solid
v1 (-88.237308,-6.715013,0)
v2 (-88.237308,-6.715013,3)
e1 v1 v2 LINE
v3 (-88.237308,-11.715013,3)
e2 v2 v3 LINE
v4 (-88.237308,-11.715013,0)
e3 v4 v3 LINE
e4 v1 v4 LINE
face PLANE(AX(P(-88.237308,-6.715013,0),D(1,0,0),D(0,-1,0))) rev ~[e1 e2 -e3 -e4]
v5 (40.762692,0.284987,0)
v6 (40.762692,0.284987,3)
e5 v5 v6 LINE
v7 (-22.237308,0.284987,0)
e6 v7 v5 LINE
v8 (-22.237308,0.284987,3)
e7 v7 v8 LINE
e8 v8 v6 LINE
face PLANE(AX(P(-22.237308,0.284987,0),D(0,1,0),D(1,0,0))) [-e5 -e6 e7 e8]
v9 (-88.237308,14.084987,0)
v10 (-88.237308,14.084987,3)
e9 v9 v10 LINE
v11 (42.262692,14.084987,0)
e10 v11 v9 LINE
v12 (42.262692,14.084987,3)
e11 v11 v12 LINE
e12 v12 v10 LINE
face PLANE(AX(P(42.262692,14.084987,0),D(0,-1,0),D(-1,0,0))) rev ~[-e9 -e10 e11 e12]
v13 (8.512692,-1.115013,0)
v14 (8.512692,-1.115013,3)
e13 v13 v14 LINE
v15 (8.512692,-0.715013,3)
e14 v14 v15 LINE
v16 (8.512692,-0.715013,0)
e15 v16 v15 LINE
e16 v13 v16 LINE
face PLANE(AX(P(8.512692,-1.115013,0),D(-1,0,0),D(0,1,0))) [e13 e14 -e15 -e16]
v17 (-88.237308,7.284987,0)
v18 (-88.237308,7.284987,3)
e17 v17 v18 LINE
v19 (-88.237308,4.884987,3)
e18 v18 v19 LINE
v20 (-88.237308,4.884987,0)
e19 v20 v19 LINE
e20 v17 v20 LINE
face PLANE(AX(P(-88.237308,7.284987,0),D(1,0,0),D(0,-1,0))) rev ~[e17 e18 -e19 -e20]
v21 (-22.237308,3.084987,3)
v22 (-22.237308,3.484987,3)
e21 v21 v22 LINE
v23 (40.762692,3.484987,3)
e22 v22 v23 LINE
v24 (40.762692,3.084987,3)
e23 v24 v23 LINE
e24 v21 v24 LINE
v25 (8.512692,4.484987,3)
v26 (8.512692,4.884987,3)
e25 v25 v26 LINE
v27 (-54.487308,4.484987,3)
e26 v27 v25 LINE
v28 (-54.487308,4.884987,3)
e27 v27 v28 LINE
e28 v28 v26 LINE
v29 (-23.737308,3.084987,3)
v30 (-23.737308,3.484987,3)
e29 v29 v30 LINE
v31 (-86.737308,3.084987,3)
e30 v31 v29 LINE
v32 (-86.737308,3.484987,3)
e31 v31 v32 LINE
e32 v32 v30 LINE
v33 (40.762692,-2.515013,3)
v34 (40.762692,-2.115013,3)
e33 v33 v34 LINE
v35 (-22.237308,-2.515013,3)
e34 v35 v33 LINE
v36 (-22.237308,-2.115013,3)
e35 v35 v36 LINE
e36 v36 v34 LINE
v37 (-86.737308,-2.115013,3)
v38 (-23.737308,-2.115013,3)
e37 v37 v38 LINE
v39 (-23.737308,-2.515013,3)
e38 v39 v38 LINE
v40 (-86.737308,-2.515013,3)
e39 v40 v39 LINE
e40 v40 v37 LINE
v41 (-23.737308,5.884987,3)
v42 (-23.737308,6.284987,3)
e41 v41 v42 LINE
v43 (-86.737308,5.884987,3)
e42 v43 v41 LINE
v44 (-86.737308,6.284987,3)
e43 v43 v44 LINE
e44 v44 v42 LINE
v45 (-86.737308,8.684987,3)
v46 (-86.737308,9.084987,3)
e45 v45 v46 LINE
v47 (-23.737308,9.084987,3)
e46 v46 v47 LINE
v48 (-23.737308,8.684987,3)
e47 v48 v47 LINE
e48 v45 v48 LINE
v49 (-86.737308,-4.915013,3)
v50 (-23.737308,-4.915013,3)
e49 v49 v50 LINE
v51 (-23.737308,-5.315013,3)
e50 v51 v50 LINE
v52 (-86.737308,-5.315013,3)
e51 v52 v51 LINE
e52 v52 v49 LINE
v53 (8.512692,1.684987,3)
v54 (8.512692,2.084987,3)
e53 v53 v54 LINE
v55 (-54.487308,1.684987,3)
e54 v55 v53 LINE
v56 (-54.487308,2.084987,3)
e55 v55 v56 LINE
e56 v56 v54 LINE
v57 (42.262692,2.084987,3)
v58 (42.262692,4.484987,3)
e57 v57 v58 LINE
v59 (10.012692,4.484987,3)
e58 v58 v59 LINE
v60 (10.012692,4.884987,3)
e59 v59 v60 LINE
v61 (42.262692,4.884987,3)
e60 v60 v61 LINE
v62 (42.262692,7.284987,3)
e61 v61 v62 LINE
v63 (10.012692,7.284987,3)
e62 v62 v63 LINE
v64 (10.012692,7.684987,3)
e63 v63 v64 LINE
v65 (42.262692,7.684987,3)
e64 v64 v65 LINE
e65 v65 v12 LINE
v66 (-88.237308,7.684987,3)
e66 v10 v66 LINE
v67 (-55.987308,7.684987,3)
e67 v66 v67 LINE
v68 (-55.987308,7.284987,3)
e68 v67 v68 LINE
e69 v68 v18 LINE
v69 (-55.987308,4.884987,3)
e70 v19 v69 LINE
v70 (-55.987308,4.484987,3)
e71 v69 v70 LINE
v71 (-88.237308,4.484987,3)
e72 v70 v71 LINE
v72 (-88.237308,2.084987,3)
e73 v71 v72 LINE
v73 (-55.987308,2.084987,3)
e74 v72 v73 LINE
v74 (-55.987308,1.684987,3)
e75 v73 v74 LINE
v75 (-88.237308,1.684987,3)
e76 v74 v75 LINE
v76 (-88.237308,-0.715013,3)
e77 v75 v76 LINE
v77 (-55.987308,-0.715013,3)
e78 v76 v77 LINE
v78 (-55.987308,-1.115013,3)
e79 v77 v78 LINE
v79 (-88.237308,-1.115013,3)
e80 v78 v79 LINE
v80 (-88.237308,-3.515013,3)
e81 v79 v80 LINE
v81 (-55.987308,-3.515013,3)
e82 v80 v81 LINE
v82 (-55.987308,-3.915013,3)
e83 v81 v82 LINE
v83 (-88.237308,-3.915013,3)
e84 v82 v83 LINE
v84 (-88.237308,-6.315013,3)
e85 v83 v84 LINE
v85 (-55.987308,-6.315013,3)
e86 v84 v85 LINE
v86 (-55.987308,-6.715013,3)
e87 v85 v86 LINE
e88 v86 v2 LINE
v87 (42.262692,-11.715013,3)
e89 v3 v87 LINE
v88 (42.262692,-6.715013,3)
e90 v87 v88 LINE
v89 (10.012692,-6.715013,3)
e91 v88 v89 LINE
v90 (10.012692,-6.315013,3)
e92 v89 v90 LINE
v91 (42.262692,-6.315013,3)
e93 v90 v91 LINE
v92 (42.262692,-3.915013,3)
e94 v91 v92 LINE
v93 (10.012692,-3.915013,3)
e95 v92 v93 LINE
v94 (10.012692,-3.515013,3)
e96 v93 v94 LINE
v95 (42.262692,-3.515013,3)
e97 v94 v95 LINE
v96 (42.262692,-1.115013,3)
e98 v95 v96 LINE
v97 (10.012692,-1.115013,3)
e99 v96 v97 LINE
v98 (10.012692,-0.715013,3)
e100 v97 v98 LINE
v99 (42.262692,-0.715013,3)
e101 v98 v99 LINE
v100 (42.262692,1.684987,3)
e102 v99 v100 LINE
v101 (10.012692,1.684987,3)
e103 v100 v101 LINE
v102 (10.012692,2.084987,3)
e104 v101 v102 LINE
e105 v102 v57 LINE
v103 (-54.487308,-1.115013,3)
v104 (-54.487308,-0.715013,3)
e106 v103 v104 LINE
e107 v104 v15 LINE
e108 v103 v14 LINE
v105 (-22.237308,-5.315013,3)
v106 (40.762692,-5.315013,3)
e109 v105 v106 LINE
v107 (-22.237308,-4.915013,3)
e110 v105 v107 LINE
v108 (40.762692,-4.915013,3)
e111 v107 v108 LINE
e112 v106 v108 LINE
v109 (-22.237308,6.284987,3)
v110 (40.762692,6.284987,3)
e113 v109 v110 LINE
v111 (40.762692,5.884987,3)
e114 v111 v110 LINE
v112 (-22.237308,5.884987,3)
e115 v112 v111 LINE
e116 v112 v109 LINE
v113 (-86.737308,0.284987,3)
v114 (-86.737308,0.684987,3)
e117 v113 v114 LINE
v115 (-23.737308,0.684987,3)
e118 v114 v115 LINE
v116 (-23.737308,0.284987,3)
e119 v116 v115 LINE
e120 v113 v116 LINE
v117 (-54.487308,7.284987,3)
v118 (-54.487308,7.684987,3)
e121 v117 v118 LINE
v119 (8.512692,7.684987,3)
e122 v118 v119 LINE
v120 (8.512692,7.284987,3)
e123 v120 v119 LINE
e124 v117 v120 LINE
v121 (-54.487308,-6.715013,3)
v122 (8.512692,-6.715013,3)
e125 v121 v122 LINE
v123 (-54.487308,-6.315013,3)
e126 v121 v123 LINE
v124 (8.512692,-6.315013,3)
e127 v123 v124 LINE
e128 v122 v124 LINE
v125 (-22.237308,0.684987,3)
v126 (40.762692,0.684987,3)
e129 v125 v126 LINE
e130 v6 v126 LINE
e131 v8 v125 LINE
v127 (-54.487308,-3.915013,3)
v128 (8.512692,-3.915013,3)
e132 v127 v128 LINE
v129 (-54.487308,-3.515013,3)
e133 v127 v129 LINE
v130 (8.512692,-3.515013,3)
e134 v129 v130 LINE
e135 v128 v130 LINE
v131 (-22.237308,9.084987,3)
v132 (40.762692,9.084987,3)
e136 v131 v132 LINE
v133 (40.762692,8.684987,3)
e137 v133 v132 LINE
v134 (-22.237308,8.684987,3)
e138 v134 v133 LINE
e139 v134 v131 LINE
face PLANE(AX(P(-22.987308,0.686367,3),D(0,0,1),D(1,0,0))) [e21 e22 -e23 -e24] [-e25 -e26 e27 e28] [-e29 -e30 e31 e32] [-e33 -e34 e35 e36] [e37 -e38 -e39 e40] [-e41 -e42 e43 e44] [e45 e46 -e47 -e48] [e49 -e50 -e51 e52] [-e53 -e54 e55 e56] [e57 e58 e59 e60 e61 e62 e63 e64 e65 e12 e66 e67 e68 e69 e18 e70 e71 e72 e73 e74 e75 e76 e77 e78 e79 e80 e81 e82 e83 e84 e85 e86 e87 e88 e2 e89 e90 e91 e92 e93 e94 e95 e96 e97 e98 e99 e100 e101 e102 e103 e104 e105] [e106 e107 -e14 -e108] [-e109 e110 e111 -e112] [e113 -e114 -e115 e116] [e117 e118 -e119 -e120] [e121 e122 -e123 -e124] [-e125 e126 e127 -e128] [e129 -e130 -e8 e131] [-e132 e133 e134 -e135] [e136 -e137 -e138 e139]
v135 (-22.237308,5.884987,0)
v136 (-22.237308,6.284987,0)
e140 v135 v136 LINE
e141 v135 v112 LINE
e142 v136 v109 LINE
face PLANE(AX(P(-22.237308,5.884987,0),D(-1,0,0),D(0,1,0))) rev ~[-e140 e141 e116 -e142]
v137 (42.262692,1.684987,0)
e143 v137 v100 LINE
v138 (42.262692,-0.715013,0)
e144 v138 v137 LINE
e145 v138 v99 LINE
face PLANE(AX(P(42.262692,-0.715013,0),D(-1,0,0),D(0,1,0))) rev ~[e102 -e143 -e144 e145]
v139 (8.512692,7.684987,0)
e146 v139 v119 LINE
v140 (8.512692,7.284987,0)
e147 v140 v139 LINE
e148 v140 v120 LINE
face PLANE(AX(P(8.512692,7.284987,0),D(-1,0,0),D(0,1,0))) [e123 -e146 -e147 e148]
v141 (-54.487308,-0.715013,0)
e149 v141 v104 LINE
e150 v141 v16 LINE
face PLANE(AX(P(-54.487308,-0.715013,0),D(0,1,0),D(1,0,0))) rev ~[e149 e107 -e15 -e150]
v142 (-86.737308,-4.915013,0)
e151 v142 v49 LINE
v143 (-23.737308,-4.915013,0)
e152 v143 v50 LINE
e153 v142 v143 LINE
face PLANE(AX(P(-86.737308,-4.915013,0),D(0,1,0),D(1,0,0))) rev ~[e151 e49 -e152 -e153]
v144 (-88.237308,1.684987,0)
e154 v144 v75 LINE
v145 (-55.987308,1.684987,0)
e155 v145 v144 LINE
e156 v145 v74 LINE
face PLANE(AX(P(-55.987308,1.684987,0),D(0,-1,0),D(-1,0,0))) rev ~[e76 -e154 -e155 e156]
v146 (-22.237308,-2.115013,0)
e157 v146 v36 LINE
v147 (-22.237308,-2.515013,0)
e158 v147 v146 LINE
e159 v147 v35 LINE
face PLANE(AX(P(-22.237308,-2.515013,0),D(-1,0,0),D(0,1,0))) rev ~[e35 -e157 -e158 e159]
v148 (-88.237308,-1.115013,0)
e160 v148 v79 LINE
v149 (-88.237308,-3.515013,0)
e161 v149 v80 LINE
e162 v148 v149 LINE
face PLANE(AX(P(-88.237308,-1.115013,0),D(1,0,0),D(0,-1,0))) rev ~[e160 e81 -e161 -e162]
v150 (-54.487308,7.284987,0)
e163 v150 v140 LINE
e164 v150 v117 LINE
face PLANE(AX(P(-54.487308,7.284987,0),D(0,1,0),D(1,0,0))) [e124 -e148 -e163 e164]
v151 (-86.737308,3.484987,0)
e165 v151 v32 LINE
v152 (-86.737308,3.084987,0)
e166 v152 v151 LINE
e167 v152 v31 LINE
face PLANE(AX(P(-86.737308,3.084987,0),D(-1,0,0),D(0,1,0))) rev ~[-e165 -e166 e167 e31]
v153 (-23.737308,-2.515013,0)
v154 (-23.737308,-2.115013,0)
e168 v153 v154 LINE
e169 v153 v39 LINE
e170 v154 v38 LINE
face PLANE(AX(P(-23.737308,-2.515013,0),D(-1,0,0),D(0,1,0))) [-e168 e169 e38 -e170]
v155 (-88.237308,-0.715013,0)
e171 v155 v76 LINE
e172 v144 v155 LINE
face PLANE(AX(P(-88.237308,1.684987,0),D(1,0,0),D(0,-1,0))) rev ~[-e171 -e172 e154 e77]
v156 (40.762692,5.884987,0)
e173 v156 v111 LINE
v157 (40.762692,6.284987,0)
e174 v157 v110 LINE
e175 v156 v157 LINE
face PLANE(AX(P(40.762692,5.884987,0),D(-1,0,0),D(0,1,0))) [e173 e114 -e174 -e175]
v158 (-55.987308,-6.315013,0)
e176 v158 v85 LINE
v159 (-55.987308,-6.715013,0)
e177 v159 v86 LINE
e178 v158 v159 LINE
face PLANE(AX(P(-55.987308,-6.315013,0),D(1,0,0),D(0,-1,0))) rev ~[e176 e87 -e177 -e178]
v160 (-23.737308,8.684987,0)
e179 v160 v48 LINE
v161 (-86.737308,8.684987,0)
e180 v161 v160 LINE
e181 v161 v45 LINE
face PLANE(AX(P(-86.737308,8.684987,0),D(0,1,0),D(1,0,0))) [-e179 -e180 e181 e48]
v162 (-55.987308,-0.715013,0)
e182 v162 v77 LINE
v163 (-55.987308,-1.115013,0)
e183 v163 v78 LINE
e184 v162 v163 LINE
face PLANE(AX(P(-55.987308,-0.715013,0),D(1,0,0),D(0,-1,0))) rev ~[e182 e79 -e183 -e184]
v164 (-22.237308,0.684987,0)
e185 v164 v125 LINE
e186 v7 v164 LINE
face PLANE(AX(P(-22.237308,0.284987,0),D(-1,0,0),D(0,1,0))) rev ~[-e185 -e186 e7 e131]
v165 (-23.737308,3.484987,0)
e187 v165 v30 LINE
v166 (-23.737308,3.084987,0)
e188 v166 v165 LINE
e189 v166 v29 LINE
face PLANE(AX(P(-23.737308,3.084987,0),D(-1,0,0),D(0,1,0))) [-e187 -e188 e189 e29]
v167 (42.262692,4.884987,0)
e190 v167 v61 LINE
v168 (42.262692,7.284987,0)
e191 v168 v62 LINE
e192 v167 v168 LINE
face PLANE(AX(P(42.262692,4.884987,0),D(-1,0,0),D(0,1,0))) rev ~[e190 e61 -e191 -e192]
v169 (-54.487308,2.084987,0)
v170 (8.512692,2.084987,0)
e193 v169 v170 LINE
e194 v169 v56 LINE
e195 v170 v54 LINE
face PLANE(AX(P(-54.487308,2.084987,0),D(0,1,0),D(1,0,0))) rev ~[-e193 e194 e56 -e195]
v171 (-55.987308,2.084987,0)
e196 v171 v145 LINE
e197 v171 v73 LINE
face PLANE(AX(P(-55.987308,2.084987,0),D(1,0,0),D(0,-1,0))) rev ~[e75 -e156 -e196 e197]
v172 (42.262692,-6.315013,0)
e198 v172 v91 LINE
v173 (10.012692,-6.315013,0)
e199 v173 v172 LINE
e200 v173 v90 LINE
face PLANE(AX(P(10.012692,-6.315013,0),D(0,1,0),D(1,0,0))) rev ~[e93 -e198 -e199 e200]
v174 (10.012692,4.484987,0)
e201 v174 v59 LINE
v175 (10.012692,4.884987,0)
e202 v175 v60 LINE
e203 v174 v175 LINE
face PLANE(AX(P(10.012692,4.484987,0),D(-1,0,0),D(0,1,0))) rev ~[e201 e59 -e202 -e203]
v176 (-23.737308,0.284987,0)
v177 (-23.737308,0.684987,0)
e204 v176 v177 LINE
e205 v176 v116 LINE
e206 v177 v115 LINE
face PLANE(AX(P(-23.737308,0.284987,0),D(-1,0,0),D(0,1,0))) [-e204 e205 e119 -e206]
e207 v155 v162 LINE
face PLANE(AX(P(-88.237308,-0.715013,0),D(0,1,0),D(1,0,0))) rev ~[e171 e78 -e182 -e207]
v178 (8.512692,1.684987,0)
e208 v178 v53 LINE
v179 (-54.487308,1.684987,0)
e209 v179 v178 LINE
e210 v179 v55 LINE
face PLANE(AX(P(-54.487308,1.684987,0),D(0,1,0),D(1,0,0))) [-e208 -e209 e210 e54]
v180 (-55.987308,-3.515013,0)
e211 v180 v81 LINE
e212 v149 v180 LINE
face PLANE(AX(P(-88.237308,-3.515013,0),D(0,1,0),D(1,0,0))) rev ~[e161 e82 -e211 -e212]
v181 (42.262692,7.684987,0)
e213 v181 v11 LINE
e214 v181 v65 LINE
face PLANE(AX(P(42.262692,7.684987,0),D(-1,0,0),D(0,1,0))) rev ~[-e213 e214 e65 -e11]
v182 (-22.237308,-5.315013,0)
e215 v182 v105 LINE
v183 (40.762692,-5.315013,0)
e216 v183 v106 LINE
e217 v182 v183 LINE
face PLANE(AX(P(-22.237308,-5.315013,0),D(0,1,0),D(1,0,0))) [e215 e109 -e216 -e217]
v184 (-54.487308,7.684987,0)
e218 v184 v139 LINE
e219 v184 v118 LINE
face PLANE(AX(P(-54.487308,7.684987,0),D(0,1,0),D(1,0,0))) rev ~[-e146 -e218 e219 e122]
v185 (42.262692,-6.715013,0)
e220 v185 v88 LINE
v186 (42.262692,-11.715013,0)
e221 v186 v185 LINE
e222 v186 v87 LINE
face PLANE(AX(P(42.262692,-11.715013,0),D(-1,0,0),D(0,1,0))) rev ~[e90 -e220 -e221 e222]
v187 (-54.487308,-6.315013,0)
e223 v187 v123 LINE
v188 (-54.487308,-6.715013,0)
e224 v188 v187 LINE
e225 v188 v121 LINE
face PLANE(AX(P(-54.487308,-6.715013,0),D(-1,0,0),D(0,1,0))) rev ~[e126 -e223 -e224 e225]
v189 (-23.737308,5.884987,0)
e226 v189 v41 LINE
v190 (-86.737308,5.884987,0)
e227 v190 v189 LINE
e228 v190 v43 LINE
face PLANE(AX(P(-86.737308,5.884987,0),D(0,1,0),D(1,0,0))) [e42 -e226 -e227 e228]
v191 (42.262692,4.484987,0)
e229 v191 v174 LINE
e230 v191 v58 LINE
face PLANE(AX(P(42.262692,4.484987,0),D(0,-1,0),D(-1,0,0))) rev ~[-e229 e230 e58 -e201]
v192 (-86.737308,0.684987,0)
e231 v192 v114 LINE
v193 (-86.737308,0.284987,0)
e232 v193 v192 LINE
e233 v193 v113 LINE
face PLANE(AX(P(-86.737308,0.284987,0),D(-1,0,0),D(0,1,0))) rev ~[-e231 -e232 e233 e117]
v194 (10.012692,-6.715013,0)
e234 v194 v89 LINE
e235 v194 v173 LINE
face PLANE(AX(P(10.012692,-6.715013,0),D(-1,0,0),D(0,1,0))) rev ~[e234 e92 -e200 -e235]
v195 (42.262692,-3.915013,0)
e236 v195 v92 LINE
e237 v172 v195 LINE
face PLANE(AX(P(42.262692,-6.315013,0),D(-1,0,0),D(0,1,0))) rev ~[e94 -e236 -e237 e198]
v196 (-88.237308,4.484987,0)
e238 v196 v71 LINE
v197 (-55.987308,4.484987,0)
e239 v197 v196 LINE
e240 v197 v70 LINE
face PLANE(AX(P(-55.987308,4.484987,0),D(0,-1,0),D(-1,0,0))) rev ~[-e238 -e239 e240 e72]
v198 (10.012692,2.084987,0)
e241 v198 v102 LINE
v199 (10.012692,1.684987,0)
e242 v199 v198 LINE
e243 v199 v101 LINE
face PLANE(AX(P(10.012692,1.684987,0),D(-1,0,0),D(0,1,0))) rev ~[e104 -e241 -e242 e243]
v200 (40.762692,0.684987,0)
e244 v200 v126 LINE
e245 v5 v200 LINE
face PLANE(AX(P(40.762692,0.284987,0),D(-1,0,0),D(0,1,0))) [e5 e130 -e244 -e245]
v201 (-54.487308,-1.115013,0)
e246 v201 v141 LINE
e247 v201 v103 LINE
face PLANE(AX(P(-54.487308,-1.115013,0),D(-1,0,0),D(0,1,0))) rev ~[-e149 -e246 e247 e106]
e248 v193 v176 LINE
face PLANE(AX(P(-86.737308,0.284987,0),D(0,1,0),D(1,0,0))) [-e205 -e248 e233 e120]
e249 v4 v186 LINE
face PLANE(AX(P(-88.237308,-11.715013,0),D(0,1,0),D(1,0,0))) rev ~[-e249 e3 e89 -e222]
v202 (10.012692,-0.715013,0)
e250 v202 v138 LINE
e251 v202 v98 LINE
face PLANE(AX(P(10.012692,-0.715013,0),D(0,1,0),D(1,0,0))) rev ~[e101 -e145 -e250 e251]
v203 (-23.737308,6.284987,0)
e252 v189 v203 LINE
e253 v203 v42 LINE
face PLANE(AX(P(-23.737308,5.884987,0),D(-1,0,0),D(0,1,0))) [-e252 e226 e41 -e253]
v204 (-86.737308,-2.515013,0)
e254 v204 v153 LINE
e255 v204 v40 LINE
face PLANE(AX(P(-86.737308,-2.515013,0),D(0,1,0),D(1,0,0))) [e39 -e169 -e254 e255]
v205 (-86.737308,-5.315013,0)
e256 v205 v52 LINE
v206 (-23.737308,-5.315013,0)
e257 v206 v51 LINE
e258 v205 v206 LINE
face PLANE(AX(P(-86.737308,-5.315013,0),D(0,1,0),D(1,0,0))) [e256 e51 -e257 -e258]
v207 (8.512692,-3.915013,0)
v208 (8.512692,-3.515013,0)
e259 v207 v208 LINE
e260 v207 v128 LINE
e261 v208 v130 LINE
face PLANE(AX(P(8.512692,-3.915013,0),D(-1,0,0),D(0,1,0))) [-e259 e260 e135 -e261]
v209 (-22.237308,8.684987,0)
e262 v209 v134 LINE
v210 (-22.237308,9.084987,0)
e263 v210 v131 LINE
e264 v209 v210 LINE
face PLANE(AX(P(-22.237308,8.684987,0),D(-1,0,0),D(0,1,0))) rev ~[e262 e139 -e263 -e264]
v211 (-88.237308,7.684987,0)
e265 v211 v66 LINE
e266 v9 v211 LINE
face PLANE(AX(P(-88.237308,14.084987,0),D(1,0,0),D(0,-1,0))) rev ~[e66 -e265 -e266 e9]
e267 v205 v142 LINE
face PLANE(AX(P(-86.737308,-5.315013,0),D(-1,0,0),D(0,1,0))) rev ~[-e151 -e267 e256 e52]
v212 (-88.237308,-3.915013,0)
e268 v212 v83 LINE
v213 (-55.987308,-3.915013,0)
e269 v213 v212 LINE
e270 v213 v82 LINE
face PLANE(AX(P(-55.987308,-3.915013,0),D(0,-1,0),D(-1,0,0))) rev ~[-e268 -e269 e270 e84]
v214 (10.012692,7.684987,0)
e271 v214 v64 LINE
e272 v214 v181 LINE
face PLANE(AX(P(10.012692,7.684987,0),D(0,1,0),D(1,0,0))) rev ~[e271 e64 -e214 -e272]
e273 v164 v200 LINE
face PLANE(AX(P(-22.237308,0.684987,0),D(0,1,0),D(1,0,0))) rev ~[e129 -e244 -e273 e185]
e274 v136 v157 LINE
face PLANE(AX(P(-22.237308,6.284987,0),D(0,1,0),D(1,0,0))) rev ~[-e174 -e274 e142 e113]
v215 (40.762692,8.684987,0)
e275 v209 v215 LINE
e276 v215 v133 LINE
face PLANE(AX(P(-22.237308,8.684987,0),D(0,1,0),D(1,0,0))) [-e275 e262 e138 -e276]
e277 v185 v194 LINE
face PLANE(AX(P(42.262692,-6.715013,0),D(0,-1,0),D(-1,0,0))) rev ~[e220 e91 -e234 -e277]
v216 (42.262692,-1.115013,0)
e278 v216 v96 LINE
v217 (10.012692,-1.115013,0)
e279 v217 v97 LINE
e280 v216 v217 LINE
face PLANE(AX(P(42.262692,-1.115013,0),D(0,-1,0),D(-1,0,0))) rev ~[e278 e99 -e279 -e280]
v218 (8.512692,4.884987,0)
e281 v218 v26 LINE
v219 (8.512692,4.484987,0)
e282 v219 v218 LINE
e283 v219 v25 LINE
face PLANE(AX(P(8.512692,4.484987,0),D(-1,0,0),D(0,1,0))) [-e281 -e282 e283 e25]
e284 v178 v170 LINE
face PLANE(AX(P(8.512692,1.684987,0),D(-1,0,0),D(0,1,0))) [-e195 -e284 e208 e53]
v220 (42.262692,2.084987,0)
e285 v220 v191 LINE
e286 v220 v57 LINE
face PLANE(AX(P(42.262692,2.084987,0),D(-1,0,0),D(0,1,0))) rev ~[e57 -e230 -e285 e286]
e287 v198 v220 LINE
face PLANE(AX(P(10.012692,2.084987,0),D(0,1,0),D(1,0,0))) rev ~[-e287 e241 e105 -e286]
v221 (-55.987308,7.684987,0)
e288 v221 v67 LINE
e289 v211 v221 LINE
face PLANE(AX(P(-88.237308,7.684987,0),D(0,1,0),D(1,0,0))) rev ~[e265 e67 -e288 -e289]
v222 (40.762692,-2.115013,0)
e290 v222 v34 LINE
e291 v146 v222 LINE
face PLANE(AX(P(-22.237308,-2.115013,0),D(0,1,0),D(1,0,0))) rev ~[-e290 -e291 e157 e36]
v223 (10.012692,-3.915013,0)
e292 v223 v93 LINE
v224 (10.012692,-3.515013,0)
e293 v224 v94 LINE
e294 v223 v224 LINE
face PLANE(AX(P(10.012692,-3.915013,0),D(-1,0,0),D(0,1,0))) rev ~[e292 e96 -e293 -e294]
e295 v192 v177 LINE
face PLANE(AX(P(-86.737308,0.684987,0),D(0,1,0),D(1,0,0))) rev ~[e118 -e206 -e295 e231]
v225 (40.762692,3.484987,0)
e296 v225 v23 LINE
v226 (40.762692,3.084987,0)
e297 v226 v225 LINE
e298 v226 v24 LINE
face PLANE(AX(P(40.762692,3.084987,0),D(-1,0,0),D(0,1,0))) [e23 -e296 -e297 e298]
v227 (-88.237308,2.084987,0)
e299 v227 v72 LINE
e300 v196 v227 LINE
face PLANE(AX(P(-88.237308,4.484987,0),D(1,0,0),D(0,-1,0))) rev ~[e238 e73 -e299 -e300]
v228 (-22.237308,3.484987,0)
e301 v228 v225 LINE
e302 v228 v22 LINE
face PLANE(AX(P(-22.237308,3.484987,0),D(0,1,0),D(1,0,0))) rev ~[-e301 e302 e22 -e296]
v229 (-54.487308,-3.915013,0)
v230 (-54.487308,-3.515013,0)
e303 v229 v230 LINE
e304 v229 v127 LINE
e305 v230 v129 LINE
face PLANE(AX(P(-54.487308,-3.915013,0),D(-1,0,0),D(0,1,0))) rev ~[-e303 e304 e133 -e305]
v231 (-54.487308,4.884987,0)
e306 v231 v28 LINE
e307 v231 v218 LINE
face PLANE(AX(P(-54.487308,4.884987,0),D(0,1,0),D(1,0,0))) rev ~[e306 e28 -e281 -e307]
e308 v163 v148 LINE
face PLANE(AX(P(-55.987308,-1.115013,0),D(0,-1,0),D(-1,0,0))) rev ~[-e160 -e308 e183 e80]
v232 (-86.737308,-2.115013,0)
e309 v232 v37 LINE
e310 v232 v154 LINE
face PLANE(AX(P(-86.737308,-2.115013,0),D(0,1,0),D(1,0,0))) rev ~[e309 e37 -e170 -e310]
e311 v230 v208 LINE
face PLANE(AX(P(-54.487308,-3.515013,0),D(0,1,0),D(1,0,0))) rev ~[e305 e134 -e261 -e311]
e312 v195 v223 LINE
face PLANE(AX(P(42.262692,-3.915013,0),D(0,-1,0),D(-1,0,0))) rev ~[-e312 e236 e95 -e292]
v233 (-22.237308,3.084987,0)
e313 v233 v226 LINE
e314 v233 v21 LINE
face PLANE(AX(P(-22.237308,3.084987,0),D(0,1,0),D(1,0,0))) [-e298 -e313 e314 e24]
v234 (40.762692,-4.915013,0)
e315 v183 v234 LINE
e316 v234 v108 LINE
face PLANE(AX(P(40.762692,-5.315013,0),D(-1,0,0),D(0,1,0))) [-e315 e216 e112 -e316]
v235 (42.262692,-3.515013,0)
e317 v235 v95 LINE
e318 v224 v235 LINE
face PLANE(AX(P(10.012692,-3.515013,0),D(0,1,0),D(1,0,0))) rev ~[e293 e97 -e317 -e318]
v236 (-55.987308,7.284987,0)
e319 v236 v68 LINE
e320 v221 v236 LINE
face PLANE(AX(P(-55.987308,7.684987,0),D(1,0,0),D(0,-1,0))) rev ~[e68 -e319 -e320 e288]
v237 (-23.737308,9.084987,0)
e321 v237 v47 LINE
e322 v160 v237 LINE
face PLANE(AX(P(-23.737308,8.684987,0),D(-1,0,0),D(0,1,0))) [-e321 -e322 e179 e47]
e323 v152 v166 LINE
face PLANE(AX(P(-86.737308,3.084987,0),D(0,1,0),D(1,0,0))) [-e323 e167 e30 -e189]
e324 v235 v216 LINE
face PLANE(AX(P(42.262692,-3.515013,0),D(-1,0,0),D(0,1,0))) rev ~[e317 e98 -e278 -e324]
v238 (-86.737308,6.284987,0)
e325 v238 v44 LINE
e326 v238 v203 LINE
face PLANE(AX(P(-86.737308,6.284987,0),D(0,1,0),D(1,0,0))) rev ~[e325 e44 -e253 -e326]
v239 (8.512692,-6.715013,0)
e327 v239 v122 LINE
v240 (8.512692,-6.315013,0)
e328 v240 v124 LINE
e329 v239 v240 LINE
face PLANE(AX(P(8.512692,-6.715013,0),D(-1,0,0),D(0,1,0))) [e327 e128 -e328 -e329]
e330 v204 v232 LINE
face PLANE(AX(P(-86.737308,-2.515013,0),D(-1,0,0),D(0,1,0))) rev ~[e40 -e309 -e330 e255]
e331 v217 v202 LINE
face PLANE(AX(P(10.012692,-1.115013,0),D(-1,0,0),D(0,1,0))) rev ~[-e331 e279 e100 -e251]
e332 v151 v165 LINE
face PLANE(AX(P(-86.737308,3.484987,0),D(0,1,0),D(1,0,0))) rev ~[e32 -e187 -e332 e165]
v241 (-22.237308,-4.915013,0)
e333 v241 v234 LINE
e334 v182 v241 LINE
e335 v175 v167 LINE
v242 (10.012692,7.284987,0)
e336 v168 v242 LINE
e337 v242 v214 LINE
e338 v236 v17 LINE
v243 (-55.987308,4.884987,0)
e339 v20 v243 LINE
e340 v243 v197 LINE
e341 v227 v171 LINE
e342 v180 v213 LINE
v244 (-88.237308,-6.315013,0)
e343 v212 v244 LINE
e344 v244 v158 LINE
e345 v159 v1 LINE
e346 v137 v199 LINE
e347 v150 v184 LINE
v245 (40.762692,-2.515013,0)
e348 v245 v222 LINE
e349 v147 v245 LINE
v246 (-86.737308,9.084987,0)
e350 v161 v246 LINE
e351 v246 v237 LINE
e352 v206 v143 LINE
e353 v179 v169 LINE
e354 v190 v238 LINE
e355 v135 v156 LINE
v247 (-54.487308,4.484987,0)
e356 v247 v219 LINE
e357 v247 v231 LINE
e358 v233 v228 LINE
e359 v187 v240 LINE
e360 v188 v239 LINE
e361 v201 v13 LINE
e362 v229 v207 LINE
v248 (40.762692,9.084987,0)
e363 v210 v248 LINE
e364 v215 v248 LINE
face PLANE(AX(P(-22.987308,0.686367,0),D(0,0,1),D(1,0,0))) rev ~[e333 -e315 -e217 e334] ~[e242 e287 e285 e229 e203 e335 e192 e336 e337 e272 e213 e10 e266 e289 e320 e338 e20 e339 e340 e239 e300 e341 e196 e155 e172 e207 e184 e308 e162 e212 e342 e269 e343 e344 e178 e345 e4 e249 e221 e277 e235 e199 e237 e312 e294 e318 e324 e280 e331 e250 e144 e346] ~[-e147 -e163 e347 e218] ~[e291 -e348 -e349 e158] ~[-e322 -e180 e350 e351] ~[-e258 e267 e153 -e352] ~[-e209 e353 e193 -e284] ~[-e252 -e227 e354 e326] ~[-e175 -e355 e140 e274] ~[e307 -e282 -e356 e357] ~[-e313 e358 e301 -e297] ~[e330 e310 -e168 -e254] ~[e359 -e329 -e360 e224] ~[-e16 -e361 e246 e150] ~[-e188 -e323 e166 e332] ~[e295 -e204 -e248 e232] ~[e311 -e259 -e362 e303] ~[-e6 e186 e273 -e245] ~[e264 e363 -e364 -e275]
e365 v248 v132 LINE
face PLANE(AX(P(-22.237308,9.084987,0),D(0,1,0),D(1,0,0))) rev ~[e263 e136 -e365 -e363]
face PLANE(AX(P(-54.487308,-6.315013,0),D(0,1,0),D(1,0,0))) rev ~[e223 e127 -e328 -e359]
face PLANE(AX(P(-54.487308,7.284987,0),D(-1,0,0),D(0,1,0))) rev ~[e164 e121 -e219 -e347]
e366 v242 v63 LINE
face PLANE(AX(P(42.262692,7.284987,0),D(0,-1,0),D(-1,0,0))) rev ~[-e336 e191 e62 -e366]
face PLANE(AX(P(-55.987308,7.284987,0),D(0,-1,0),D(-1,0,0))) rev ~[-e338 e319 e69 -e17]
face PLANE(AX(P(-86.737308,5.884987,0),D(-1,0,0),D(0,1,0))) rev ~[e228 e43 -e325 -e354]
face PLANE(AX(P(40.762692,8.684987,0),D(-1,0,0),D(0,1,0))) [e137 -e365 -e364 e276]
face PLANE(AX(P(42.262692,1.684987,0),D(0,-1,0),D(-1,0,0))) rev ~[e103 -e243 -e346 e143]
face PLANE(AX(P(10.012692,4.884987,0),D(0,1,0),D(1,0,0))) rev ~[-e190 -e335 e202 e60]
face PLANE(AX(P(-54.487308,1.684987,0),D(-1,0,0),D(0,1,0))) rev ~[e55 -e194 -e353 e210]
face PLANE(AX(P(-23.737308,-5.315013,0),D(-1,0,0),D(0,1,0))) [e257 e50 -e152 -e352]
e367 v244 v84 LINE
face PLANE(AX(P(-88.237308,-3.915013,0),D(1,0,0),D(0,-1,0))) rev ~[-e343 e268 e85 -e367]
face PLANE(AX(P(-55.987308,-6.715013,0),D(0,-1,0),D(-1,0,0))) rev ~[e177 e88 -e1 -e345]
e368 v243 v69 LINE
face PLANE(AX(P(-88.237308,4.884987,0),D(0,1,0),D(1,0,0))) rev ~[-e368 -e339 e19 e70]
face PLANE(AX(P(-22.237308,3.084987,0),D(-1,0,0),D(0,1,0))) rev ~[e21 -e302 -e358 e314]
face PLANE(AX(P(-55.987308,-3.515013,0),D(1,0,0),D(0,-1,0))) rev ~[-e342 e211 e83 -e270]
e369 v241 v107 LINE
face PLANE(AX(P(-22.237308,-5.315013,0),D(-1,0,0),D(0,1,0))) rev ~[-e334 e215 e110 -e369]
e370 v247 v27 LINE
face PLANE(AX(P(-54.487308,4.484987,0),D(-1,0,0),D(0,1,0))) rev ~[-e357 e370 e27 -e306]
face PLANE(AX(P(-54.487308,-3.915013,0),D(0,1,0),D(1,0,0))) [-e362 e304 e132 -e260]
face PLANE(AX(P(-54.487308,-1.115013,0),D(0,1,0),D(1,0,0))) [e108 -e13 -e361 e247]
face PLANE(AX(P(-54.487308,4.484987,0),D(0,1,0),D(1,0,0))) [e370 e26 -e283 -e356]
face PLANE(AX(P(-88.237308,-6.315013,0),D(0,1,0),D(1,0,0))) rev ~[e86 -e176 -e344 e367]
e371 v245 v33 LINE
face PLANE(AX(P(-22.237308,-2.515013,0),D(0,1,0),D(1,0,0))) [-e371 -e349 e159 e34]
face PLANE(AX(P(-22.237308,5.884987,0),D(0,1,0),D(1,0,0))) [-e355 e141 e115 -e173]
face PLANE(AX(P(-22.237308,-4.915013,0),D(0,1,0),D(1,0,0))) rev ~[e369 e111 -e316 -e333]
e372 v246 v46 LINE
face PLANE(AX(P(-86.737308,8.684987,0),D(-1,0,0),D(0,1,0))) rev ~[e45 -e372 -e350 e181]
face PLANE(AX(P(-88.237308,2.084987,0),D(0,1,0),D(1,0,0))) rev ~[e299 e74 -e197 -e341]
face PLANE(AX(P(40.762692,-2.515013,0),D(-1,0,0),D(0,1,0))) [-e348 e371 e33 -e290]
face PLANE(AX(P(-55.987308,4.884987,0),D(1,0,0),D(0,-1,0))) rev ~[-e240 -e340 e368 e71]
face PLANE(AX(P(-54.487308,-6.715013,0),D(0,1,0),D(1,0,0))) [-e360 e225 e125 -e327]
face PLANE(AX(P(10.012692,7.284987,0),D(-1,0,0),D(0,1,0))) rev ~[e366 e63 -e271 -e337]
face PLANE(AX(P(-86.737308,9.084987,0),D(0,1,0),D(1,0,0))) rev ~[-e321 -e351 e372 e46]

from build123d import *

# Parameters (mm, degrees)
F0_W     = 63
F0_H     = 0.4
F1_DEPTH = 3


with BuildPart() as f1:
    # F0 (on Top) → F1 (new body)
    with BuildSketch(Plane.XY):
        Polygon((42.2626923621, 7.6849870265), (42.2626923621, 14.0849870265), (-88.2373076379, 14.0849870265), (-88.2373076379, 7.6849870265), (-55.9873076379, 7.6849870265), (-55.9873076379, 7.2849870265), (-88.2373076379, 7.2849870265), (-88.2373076379, 4.8849870265), (-55.9873076379, 4.8849870265), (-55.9873076379, 4.4849870265), (-88.2373076379, 4.4849870265), (-88.2373076379, 2.0849870265), (-55.9873076379, 2.0849870265), (-55.9873076379, 1.6849870265), (-88.2373076379, 1.6849870265), (-88.2373076379, -0.7150129735), (-55.9873076379, -0.7150129735), (-55.9873076379, -1.1150129735), (-88.2373076379, -1.1150129735), (-88.2373076379, -3.5150129735), (-55.9873076379, -3.5150129735), (-55.9873076379, -3.9150129735), (-88.2373076379, -3.9150129735), (-88.2373076379, -6.3150129735), (-55.9873076379, -6.3150129735), (-55.9873076379, -6.7150129735), (-88.2373076379, -6.7150129735), (-88.2373076379, -11.7150129735), (42.2626923621, -11.7150129735), (42.2626923621, -6.7150129735), (10.0126923621, -6.7150129735), (10.0126923621, -6.3150129735), (42.2626923621, -6.3150129735), (42.2626923621, -3.9150129735), (10.0126923621, -3.9150129735), (10.0126923621, -3.5150129735), (42.2626923621, -3.5150129735), (42.2626923621, -1.1150129735), (10.0126923621, -1.1150129735), (10.0126923621, -0.7150129735), (42.2626923621, -0.7150129735), (42.2626923621, 1.6849870265), (10.0126923621, 1.6849870265), (10.0126923621, 2.0849870265), (42.2626923621, 2.0849870265), (42.2626923621, 4.4849870265), (10.0126923621, 4.4849870265), (10.0126923621, 4.8849870265), (42.2626923621, 4.8849870265), (42.2626923621, 7.2849870265), (10.0126923621, 7.2849870265), (10.0126923621, 7.6849870265), align=None)
        with Locations((-55.2373076379, -5.1150129735)):
            Rectangle(F0_W, F0_H, mode=Mode.SUBTRACT)
        with Locations((-55.2373076379, -2.3150129735)):
            Rectangle(F0_W, F0_H, mode=Mode.SUBTRACT)
        with Locations((-55.2373076379, 0.4849870265)):
            Rectangle(F0_W, F0_H, mode=Mode.SUBTRACT)
        with Locations((-22.9873076379, -6.5150129735)):
            Rectangle(F0_W, F0_H, mode=Mode.SUBTRACT)
        with Locations((-22.9873076379, -3.7150129735)):
            Rectangle(F0_W, F0_H, mode=Mode.SUBTRACT)
        with Locations((9.2626923621, -5.1150129735)):
            Rectangle(F0_W, F0_H, mode=Mode.SUBTRACT)
        with Locations((9.2626923621, -2.3150129735)):
            Rectangle(F0_W, F0_H, mode=Mode.SUBTRACT)
        with Locations((-22.9873076379, -0.9150129735)):
            Rectangle(F0_W, F0_H, mode=Mode.SUBTRACT)
        with Locations((9.2626923621, 0.4849870265)):
            Rectangle(F0_W, F0_H, mode=Mode.SUBTRACT)
        with Locations((-55.2373076379, 3.2849870265)):
            Rectangle(F0_W, F0_H, mode=Mode.SUBTRACT)
        with Locations((-55.2373076379, 6.0849870265)):
            Rectangle(F0_W, F0_H, mode=Mode.SUBTRACT)
        with Locations((-55.2373076379, 8.8849870265)):
            Rectangle(F0_W, F0_H, mode=Mode.SUBTRACT)
        with Locations((-22.9873076379, 1.8849870265)):
            Rectangle(F0_W, F0_H, mode=Mode.SUBTRACT)
        with Locations((9.2626923621, 3.2849870265)):
            Rectangle(F0_W, F0_H, mode=Mode.SUBTRACT)
        with Locations((-22.9873076379, 4.6849870265)):
            Rectangle(F0_W, F0_H, mode=Mode.SUBTRACT)
        with Locations((-22.9873076379, 7.4849870265)):
            Rectangle(F0_W, F0_H, mode=Mode.SUBTRACT)
        with Locations((9.2626923621, 6.0849870265)):
            Rectangle(F0_W, F0_H, mode=Mode.SUBTRACT)
        with Locations((9.2626923621, 8.8849870265)):
            Rectangle(F0_W, F0_H, mode=Mode.SUBTRACT)
    extrude(amount=F1_DEPTH)


solid = f1.part
